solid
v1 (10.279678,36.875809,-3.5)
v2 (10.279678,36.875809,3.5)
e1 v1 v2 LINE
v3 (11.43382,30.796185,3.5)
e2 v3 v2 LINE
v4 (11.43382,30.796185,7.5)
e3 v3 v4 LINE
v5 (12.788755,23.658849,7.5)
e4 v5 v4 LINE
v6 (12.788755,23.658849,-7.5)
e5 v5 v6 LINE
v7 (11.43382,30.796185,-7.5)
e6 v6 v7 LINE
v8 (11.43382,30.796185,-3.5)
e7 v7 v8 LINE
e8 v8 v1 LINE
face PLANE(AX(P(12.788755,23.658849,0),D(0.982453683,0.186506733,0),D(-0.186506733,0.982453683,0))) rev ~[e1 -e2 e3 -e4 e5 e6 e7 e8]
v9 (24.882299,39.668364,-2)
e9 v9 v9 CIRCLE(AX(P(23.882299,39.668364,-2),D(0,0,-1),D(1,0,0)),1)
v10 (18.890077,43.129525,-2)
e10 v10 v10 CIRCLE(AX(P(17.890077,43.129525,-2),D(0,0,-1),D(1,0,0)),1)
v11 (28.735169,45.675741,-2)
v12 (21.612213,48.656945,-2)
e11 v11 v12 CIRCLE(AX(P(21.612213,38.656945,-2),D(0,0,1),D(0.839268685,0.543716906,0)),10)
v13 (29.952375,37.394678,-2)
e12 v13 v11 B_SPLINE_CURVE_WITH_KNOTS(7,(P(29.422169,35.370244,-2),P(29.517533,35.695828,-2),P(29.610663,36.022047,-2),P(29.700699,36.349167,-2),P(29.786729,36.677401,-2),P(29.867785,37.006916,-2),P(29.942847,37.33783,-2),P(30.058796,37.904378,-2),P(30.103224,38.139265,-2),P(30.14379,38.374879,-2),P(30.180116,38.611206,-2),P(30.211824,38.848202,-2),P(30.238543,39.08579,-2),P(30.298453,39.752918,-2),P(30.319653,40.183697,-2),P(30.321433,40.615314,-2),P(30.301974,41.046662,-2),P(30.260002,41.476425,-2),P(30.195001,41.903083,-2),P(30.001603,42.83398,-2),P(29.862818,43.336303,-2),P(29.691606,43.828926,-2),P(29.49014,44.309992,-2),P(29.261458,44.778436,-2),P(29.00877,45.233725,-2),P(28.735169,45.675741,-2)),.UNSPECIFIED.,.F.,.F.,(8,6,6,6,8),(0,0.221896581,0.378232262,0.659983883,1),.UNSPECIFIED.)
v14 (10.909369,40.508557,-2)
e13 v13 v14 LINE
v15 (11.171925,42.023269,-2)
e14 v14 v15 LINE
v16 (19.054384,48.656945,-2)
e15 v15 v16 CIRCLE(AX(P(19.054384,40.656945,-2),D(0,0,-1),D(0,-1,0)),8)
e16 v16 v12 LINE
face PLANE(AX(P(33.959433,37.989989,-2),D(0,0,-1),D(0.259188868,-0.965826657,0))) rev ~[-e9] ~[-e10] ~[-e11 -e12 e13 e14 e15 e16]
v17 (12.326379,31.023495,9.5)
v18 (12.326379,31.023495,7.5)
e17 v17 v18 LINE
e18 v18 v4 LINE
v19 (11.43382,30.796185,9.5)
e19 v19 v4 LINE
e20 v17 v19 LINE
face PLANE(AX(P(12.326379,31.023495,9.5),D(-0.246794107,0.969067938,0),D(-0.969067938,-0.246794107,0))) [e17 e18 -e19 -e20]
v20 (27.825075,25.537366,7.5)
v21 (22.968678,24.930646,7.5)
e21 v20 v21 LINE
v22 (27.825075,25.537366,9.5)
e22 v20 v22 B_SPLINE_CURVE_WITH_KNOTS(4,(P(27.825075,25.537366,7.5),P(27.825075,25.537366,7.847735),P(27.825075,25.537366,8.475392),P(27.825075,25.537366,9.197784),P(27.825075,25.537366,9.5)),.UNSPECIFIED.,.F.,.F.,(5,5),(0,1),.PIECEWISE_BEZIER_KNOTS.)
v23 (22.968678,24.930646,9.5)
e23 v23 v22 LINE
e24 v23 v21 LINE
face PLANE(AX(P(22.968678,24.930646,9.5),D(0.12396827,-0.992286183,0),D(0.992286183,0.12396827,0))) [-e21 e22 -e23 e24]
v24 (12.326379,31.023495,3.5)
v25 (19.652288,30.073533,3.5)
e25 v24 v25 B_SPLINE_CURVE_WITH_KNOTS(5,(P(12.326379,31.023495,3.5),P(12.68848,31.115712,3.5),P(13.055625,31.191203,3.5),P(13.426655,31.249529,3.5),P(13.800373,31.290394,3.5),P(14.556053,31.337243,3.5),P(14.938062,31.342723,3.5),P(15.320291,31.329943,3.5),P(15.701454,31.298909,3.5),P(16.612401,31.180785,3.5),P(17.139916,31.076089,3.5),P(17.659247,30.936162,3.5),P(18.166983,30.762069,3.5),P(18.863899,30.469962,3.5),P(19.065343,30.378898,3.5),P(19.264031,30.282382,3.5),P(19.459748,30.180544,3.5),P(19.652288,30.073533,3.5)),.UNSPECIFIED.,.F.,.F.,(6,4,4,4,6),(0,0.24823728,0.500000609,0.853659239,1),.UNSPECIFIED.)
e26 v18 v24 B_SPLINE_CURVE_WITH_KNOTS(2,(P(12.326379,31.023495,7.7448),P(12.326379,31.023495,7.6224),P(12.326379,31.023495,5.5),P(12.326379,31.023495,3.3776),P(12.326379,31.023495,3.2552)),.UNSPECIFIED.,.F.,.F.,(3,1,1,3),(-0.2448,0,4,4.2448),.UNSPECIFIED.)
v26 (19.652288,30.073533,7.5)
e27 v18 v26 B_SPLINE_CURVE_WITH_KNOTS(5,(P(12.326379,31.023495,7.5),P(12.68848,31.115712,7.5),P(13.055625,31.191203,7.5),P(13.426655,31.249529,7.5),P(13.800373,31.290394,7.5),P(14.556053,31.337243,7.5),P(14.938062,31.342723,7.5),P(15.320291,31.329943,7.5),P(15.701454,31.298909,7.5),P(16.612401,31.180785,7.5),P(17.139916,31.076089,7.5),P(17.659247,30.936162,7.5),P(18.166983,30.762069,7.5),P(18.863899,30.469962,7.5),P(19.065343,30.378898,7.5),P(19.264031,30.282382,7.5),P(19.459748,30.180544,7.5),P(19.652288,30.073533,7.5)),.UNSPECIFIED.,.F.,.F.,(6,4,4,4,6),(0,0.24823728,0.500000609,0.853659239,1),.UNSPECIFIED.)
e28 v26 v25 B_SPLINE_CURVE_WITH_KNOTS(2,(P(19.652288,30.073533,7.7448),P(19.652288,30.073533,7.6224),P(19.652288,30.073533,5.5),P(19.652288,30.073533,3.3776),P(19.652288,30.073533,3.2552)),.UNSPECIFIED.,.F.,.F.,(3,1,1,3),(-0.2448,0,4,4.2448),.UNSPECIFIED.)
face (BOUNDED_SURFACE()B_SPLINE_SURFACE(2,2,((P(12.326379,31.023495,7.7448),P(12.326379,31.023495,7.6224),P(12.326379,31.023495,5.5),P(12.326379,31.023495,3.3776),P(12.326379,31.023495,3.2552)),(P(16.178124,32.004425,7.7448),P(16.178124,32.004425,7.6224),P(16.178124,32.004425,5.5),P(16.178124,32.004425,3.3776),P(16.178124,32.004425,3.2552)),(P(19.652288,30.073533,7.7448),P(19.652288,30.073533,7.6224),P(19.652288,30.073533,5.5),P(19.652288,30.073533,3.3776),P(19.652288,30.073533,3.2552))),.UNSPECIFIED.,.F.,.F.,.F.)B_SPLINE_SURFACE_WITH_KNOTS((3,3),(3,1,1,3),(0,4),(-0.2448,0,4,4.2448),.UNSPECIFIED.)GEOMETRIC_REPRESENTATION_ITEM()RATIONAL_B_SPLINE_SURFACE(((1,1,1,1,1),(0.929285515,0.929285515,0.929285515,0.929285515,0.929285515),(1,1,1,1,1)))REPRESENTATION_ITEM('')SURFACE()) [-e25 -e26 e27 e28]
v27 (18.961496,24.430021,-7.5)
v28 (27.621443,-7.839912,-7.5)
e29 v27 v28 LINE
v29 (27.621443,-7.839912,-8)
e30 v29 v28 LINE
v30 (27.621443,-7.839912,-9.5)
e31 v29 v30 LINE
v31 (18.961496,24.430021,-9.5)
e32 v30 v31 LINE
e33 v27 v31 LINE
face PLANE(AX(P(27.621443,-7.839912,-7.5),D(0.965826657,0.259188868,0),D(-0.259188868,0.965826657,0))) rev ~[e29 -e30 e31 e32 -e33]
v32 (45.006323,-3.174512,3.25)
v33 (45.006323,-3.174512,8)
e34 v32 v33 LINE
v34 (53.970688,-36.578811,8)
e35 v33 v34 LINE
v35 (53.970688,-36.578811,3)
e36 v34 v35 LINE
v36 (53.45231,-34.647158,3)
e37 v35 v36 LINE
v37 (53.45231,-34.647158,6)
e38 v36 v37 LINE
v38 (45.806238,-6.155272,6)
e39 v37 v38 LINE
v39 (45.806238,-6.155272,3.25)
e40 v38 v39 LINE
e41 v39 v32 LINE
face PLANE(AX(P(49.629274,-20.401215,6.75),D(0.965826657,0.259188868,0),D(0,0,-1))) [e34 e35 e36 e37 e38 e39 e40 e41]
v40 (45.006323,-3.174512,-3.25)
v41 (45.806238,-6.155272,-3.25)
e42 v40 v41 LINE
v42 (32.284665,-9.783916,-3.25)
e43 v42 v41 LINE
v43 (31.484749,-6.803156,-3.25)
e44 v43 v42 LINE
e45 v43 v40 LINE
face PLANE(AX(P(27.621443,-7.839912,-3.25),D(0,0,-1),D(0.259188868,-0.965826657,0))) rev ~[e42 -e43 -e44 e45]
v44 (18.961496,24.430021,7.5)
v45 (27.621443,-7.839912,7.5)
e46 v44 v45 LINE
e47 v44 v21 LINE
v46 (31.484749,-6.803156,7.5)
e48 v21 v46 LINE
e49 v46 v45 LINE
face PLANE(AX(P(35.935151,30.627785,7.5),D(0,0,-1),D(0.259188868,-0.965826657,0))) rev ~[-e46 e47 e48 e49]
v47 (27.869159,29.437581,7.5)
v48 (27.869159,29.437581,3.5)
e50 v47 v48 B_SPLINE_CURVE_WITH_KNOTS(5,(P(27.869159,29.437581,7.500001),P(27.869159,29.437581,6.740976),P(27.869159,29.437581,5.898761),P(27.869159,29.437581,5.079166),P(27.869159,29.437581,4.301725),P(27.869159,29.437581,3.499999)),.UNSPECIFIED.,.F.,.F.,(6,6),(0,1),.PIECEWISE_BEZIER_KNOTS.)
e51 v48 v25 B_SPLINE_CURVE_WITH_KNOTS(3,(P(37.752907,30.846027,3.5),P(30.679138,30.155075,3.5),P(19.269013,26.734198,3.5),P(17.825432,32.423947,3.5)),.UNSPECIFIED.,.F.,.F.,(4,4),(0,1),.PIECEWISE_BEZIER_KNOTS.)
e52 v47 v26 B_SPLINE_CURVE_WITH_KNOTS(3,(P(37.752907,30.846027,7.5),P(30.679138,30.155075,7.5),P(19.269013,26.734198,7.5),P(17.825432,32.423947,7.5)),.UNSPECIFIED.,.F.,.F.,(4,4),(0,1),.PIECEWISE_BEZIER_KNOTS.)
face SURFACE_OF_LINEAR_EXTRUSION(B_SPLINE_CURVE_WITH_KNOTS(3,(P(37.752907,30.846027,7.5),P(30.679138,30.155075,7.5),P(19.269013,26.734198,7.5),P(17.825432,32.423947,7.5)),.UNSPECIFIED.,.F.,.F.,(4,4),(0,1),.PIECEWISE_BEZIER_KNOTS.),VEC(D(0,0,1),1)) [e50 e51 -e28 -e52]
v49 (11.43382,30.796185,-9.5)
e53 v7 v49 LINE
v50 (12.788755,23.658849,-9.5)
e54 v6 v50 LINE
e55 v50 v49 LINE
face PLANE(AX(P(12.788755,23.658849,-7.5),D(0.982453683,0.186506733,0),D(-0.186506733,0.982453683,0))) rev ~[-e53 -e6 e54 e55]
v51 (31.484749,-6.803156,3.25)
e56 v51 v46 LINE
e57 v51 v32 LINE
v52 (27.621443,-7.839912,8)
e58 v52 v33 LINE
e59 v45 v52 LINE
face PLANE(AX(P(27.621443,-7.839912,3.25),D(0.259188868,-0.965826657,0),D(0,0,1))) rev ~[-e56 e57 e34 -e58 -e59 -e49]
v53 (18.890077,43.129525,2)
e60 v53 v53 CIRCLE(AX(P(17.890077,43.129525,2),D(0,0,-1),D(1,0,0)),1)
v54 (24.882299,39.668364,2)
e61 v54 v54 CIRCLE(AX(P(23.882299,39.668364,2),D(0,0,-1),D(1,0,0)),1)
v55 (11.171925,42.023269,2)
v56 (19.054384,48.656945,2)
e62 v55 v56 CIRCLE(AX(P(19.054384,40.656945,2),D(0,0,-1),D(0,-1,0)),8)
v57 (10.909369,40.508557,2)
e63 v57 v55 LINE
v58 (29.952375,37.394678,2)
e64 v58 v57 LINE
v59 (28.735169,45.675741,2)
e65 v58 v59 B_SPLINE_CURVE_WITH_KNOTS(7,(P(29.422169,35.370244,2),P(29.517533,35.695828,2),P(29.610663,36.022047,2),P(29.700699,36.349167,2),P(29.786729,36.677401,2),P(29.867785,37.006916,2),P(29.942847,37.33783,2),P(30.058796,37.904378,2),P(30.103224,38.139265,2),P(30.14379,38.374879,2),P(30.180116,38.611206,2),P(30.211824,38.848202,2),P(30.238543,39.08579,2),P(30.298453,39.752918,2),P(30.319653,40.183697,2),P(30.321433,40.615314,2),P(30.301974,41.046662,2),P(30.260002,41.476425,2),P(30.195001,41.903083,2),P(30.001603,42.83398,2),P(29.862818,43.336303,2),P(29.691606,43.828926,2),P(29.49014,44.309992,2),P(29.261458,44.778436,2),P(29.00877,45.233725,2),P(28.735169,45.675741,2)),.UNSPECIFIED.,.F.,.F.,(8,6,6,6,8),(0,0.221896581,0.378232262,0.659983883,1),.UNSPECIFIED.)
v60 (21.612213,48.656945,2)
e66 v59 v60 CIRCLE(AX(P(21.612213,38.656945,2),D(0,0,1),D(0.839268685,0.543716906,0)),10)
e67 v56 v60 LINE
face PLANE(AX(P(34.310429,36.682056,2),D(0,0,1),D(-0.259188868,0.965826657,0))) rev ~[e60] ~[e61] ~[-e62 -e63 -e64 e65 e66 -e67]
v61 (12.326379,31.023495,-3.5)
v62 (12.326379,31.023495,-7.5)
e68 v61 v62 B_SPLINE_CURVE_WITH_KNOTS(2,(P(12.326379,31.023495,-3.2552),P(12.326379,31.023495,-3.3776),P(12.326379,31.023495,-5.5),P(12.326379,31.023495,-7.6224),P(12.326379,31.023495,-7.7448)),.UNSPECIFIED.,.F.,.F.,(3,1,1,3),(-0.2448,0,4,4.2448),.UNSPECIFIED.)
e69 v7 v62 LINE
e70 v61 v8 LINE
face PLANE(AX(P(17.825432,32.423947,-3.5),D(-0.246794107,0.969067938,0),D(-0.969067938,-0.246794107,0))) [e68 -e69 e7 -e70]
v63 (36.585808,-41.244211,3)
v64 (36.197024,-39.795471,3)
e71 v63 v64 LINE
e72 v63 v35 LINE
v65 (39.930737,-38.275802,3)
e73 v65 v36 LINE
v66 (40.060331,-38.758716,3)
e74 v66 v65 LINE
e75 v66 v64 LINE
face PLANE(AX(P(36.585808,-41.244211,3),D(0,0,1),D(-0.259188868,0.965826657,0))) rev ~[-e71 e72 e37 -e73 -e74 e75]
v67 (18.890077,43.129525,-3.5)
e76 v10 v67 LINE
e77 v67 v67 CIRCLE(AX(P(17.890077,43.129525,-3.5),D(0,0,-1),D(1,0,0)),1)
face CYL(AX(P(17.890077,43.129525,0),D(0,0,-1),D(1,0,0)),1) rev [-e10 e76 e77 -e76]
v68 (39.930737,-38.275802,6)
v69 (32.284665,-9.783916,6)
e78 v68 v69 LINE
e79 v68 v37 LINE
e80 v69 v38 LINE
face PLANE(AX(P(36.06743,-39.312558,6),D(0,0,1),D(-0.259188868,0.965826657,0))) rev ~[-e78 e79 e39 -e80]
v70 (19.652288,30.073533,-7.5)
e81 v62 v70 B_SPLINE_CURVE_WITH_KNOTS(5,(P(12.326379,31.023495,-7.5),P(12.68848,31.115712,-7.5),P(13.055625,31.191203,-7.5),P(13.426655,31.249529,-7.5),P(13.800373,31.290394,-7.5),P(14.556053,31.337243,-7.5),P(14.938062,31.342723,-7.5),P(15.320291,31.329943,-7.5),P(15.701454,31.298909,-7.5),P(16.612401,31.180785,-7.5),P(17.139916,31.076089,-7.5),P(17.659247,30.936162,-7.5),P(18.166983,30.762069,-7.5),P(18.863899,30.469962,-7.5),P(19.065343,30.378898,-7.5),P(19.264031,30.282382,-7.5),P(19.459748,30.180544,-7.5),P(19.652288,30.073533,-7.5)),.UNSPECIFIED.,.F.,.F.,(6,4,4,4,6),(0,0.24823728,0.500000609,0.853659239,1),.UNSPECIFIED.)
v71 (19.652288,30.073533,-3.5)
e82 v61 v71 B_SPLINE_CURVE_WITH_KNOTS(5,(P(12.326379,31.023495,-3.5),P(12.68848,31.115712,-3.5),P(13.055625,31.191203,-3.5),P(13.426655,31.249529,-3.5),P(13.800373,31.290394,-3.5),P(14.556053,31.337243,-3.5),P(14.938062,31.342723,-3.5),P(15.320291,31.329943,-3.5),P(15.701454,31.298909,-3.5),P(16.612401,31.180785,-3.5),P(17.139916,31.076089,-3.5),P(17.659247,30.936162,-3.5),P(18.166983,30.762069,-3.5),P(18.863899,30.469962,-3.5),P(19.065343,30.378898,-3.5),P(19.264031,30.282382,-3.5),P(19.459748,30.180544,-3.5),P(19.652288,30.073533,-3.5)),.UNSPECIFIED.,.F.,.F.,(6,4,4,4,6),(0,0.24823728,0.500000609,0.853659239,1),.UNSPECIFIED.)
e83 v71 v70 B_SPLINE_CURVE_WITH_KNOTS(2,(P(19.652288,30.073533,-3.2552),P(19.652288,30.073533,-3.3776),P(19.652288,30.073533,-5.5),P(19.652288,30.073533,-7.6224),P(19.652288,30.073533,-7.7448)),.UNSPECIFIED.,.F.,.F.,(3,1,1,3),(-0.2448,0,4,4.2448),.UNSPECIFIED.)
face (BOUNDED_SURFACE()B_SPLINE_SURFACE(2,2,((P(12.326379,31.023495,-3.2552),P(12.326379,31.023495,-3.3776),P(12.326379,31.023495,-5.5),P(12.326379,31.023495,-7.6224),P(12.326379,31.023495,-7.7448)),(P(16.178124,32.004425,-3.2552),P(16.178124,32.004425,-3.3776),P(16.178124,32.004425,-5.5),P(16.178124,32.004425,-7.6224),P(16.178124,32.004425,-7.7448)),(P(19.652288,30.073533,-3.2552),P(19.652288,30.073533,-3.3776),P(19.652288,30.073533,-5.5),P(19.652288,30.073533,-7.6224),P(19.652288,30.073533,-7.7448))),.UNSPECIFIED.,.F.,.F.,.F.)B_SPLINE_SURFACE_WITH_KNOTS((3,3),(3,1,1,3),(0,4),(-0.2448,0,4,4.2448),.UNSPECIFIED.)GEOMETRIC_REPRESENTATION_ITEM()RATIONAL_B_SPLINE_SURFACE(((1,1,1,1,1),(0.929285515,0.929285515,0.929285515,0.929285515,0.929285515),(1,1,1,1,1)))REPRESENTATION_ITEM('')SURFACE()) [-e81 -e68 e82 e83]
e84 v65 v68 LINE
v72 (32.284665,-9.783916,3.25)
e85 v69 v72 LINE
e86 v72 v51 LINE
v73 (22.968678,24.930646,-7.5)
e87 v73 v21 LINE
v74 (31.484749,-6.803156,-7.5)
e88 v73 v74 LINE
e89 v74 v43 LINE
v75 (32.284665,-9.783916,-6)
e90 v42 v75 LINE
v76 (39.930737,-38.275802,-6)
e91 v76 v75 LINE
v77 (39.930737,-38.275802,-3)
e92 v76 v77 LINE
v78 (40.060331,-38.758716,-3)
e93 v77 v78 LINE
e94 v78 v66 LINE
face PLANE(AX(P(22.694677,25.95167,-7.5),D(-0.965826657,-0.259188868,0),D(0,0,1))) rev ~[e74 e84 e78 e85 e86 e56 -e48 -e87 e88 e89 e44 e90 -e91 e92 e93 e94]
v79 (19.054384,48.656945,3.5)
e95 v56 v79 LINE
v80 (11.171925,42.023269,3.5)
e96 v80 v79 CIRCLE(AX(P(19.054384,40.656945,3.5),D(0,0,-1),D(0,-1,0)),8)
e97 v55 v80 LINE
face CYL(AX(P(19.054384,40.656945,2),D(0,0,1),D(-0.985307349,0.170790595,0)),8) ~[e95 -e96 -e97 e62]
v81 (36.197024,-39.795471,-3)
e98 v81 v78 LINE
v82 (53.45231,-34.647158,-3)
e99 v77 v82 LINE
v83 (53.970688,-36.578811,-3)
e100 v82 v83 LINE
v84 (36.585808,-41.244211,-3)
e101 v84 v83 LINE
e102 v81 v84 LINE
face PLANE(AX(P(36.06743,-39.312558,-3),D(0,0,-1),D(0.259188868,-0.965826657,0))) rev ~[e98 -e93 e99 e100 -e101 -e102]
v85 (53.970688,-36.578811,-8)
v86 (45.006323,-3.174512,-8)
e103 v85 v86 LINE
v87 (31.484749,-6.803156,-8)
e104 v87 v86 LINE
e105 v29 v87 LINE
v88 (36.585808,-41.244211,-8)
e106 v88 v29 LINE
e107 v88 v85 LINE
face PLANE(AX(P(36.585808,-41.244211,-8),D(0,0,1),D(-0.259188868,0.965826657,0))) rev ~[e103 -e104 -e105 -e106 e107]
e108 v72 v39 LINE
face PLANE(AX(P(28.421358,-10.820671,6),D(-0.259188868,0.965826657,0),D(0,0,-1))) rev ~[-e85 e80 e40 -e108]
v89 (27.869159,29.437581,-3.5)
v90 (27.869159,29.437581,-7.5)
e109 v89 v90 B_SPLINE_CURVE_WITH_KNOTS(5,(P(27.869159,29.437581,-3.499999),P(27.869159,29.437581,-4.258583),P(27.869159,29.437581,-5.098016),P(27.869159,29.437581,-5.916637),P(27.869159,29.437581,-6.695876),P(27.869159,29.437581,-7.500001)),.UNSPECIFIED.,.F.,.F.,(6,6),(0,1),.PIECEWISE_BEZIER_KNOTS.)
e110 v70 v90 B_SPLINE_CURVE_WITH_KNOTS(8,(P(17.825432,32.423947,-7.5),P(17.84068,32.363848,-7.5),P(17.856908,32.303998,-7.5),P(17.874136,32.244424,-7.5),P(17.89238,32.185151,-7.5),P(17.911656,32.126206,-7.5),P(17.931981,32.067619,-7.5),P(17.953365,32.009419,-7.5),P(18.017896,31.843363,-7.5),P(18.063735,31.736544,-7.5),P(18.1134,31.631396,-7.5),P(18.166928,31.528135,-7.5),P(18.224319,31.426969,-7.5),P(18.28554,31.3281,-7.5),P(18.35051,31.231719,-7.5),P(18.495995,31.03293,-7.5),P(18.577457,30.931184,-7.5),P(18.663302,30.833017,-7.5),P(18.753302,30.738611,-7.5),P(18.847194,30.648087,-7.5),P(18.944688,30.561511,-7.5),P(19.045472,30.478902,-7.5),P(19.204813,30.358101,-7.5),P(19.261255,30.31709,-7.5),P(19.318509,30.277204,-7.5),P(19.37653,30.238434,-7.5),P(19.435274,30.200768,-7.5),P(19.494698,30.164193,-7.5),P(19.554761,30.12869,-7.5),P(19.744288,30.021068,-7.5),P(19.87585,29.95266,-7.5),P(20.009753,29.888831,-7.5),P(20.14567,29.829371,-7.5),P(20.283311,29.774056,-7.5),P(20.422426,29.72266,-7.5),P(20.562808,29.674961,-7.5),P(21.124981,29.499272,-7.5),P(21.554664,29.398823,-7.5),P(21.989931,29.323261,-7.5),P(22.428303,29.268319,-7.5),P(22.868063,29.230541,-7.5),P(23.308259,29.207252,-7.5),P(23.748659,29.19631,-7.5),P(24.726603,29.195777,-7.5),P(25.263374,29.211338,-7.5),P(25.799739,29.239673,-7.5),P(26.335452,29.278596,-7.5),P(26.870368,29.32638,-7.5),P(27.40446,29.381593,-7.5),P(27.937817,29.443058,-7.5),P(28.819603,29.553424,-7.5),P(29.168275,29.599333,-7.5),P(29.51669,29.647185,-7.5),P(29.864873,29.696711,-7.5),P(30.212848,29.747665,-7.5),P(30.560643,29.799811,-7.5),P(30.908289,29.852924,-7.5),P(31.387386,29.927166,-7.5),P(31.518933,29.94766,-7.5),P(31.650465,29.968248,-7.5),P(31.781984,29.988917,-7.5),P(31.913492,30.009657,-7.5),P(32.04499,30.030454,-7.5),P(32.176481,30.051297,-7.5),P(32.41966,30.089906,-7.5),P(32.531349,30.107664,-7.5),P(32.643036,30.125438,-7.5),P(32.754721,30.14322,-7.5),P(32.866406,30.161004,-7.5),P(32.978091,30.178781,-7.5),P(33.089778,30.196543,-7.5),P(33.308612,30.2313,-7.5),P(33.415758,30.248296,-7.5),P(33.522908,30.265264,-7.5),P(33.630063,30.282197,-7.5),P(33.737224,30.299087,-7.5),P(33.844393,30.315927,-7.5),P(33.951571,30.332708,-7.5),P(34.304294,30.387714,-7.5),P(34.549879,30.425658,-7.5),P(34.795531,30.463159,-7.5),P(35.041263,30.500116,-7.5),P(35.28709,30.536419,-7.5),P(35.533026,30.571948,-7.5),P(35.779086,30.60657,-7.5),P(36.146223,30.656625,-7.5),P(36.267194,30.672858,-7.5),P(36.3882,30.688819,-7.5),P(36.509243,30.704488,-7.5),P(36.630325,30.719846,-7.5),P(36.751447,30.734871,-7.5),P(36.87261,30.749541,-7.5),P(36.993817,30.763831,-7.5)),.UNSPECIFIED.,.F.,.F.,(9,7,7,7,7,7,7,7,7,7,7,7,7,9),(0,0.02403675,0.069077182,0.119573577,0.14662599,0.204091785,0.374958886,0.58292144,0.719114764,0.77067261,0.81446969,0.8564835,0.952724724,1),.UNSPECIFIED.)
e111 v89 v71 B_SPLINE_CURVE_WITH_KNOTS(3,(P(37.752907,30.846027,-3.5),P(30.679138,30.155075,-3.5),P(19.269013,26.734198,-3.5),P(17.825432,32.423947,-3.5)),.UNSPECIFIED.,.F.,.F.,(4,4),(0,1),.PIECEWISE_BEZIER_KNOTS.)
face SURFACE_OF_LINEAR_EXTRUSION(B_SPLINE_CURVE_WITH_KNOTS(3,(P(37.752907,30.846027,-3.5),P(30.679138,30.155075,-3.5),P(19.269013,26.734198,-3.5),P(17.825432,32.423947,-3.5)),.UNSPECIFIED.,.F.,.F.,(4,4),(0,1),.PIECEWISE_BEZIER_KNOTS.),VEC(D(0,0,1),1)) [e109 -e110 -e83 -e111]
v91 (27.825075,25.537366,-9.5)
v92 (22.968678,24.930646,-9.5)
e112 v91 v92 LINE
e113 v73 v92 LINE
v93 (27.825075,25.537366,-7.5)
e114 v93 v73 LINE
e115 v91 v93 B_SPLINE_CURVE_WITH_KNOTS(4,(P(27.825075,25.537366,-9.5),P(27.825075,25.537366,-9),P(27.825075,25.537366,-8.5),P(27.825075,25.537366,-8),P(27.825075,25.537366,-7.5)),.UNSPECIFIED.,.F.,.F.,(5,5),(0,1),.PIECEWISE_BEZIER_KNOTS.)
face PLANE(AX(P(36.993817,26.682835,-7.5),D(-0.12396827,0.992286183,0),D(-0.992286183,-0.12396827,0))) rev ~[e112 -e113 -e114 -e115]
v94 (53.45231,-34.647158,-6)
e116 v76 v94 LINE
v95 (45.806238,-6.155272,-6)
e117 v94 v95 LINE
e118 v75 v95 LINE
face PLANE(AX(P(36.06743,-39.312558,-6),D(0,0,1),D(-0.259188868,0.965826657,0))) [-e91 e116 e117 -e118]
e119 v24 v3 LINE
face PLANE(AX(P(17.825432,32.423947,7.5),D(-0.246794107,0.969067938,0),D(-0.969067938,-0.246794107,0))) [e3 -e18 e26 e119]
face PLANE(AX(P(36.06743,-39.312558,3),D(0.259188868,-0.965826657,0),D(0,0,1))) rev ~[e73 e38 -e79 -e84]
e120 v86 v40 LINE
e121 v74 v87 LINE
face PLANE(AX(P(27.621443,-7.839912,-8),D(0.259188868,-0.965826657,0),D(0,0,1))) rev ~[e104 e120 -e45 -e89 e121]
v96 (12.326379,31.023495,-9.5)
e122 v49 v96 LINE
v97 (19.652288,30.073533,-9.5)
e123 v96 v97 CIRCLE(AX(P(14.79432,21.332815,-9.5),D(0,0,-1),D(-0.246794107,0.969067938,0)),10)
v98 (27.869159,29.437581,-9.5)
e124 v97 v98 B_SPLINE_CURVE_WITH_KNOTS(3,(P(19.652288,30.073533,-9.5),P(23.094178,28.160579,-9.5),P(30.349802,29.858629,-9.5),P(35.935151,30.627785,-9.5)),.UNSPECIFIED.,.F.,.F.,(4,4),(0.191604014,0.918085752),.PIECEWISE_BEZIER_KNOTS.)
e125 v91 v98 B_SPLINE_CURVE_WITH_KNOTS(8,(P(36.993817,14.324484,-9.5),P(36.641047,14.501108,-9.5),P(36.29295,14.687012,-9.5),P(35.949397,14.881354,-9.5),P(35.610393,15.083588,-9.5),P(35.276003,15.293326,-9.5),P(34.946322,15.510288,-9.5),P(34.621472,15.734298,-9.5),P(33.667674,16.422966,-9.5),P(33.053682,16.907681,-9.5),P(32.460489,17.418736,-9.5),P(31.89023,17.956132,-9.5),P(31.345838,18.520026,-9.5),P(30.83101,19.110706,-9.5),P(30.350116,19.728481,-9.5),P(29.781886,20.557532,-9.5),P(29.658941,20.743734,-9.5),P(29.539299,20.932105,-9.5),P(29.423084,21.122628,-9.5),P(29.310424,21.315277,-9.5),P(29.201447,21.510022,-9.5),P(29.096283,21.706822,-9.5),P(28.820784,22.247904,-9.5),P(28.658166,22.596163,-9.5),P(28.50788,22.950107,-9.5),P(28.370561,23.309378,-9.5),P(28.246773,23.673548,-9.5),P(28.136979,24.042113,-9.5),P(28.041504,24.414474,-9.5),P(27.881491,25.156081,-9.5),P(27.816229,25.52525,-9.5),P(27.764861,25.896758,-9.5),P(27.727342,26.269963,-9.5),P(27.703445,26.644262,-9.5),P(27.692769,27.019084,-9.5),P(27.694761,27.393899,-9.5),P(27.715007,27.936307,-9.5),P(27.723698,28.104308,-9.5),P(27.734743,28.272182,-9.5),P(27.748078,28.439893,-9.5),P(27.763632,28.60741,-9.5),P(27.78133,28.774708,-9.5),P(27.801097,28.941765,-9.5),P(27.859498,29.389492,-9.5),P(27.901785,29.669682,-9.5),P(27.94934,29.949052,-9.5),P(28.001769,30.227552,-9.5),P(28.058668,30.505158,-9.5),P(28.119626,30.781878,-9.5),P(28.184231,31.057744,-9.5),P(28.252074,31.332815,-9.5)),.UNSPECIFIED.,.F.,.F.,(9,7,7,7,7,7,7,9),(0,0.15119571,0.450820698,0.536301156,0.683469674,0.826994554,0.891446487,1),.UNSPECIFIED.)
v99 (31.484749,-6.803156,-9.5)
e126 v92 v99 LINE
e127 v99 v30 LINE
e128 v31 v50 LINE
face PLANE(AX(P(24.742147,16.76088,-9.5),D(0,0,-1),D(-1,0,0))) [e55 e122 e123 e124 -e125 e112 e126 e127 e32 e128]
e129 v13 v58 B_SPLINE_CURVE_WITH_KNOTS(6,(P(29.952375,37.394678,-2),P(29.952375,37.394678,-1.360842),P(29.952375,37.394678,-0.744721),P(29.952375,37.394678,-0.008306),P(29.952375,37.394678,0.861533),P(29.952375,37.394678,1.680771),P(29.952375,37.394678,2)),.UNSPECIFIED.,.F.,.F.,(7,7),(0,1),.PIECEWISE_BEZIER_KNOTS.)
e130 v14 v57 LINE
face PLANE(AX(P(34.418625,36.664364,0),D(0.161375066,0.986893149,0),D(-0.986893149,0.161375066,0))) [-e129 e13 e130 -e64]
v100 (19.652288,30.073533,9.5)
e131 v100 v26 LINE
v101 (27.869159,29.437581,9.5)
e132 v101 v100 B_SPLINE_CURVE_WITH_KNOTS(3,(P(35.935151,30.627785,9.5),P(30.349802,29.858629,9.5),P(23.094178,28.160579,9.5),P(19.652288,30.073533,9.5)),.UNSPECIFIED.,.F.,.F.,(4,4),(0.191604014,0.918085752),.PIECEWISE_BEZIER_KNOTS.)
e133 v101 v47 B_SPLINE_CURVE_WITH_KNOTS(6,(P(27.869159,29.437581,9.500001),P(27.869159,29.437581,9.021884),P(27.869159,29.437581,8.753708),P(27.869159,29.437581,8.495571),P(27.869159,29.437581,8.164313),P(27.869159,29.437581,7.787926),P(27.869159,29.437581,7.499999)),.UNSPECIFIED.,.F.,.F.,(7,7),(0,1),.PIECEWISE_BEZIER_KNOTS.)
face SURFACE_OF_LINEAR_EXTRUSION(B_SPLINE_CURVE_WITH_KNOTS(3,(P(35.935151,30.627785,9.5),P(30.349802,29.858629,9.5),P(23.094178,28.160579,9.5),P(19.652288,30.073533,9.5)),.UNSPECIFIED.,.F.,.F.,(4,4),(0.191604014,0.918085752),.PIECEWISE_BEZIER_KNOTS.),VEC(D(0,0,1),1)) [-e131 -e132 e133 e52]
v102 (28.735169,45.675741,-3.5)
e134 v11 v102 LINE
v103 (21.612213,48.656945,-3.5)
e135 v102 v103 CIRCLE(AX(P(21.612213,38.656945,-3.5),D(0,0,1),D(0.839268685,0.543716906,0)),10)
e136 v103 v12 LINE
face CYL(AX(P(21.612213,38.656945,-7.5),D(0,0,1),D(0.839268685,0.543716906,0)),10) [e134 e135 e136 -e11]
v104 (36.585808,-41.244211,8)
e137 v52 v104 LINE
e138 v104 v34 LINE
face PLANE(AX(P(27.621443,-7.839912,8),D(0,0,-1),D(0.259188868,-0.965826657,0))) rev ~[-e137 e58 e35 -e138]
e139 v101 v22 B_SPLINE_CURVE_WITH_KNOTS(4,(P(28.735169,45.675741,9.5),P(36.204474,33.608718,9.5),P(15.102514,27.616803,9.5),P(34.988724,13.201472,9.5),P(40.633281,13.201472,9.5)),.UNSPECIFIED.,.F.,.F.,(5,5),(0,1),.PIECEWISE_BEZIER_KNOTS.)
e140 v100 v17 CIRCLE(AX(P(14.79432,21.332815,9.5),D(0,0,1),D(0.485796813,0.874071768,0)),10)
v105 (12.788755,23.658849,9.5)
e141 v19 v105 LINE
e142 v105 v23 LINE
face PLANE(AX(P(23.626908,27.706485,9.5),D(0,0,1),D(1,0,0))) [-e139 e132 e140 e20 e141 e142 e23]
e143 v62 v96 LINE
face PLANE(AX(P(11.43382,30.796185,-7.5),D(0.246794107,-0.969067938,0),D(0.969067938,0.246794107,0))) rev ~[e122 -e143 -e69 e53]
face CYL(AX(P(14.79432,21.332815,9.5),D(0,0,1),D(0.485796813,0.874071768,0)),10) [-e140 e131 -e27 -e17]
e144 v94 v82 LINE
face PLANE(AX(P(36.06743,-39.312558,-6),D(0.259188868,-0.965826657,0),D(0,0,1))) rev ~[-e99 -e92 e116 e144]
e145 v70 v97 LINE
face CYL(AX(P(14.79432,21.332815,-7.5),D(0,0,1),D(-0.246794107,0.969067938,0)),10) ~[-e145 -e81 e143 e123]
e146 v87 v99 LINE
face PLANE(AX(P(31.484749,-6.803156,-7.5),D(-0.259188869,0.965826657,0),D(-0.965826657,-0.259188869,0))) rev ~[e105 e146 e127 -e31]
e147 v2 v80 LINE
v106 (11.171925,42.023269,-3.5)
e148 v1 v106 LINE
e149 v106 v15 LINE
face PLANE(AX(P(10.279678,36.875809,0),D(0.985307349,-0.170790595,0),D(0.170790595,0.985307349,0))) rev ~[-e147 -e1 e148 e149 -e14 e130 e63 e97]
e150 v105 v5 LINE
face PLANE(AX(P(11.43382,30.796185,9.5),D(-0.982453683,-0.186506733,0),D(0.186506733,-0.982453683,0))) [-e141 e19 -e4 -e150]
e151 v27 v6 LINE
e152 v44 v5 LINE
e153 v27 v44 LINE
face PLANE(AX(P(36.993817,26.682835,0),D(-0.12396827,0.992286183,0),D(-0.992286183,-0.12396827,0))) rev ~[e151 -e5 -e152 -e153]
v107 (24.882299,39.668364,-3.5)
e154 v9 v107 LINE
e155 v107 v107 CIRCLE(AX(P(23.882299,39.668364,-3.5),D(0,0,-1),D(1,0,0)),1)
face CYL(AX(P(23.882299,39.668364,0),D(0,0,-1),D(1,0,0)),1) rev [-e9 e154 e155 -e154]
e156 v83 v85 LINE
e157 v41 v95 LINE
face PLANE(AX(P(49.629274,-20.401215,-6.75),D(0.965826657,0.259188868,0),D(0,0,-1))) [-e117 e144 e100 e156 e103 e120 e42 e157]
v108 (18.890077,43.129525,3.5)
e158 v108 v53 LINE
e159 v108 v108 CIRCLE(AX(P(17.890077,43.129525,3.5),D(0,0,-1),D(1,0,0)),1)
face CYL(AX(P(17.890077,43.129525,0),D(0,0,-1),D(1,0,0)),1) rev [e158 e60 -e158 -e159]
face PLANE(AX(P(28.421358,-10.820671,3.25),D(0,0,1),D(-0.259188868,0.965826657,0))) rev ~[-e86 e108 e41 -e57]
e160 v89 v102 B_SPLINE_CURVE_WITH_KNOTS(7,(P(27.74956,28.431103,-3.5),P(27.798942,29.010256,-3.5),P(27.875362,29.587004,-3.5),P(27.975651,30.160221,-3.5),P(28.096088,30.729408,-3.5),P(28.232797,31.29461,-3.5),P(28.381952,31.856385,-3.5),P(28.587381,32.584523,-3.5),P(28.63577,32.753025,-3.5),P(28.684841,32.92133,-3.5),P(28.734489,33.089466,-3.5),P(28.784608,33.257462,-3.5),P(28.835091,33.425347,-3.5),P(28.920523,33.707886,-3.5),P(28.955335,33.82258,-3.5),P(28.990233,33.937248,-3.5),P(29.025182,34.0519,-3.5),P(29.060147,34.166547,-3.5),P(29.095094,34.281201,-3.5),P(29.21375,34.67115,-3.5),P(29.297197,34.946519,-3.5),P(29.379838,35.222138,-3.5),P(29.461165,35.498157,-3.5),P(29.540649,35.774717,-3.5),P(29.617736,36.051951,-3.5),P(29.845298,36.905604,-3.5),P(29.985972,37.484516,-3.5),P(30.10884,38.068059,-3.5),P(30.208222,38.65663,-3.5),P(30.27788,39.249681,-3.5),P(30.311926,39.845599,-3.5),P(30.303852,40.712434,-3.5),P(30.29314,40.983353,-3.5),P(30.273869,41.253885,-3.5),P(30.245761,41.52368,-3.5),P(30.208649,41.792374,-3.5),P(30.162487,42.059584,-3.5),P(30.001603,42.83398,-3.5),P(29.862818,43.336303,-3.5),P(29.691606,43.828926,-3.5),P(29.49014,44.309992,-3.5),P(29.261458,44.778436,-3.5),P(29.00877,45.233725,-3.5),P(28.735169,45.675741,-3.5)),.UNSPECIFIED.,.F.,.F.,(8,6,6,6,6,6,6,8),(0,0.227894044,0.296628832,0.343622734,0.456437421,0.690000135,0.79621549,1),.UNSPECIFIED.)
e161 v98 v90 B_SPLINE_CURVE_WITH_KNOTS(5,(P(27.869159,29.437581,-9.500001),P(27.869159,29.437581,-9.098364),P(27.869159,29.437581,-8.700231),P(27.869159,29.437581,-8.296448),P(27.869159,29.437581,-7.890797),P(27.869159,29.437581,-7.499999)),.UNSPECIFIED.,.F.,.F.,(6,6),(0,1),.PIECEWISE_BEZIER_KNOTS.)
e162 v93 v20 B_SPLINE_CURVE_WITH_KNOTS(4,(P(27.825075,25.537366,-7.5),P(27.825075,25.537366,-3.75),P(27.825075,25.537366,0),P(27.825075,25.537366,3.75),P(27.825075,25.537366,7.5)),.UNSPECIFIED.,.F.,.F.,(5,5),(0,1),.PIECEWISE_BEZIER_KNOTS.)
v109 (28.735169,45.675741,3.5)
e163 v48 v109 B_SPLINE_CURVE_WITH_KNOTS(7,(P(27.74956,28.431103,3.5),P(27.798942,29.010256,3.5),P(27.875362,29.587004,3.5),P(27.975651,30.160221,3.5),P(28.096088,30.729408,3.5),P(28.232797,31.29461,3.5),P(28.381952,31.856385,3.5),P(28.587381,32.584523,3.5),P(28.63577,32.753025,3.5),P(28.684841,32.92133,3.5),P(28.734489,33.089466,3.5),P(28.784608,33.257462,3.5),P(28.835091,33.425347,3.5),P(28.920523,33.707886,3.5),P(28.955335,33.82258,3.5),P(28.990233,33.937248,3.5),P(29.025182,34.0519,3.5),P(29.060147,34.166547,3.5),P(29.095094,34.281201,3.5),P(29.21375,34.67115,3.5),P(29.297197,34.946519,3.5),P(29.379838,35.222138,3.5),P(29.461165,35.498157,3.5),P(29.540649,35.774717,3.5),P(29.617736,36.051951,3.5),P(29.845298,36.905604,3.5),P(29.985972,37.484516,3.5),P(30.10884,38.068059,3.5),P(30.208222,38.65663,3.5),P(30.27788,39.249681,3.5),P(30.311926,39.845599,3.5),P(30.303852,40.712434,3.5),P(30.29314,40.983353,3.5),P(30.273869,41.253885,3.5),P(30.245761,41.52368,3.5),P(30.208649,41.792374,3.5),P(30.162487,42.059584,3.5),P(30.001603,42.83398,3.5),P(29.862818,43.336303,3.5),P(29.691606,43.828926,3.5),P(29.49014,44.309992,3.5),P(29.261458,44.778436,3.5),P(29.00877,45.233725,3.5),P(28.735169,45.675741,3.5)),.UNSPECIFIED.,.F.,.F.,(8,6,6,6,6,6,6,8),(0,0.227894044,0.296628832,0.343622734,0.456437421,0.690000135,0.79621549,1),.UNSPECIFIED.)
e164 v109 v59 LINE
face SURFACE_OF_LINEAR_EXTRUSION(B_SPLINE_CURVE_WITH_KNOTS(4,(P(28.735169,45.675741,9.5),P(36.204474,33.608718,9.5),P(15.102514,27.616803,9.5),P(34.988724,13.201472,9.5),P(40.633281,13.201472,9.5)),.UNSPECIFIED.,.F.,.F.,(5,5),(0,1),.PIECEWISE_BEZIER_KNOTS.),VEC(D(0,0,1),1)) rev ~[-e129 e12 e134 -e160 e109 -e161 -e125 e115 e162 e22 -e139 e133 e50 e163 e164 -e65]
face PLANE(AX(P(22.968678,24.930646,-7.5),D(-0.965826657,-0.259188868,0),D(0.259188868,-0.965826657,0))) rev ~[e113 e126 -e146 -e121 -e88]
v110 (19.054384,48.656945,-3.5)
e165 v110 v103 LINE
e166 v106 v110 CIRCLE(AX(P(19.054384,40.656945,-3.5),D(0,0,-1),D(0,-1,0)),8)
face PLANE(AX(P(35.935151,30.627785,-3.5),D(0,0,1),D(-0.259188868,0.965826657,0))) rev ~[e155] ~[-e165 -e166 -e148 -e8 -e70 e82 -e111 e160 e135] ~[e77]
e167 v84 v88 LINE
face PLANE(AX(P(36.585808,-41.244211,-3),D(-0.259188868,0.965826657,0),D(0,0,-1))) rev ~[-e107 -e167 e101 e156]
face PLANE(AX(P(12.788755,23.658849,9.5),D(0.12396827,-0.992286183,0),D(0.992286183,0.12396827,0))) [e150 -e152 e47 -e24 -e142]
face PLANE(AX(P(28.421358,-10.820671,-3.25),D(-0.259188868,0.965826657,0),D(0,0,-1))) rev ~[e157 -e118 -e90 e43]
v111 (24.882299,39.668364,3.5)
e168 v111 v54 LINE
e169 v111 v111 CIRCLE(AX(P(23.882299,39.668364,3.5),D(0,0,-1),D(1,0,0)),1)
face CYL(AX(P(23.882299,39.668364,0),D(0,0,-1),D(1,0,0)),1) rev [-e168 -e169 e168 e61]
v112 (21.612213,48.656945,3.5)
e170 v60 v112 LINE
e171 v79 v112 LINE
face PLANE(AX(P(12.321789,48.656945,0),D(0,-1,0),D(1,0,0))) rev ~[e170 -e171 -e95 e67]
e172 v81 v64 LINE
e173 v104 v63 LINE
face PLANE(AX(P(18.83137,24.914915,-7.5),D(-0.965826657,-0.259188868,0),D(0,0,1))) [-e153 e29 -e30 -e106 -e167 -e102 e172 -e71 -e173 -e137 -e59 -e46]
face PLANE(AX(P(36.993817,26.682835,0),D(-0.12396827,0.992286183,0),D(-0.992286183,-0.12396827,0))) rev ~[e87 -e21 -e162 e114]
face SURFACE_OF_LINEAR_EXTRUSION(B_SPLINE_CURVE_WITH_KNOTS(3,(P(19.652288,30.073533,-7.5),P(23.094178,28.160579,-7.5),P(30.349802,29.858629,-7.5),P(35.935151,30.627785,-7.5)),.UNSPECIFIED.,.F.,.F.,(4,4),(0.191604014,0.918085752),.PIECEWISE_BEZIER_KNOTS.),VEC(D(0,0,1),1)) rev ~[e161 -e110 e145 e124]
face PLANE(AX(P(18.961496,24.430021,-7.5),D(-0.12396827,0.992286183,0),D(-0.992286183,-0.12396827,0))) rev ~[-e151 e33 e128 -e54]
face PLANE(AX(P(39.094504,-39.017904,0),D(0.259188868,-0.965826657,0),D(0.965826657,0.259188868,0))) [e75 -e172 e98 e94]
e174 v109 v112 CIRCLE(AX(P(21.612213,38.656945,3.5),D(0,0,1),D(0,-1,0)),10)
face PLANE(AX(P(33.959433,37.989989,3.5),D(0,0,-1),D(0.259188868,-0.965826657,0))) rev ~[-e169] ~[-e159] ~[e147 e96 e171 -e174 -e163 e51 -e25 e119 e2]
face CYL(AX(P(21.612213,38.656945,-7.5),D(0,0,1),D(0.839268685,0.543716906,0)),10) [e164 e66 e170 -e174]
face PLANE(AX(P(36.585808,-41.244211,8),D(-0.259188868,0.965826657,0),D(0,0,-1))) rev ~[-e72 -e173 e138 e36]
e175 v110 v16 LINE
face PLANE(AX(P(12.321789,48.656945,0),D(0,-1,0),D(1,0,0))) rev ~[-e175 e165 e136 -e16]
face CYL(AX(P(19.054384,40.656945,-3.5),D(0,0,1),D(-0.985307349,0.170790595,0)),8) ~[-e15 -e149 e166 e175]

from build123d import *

# Parameters (mm, degrees)
SKETCH10_R                = 1
BOSS_EXTRUDE5_DEPTH       = 7.5
CUT_EXTRUDE1_DEPTH        = 4
FILLET1_R                 = 10
CUT_EXTRUDE6_START        = -11
CUT_EXTRUDE6_DEPTH        = 10
CUT_EXTRUDE7_DEPTH        = 2
BOSS_EXTRUDE11_DEPTH      = 9
BOSS_EXTRUDE13_DEPTH      = 64
BOSS_EXTRUDE13_DEPTH_BACK = 3
SKETCH30_W                = 2
SKETCH30_H                = 15
BOSS_EXTRUDE14_DEPTH      = 14
BOSS_EXTRUDE14_DEPTH_BACK = 4
SKETCH31_W                = 1.5
SKETCH31_H                = 29.5
SKETCH31_W_2              = 0.5
SKETCH31_H_2              = 3.0862264
CUT_EXTRUDE9_DEPTH        = 9
FILLET2_R                 = 8
FILLET3_R                 = 10
BOSS_EXTRUDE15_DEPTH      = 2
BOSS_EXTRUDE16_START      = 2
BOSS_EXTRUDE16_DEPTH      = 2
CUT_EXTRUDE10_DEPTH       = 28


with BuildPart() as part:
    # Sketch10 → Boss-Extrude5 (new, symmetric)
    with BuildSketch(Plane.XY):
        Polygon((27.048887868, 48.656944563), (33.959433176, 37.989988632), (36.993816658, 26.682834617), (12.788755024, 23.658848526), (10.279677841, 36.875809012), (12.321789019, 48.656944563), align=None)
        with Locations((17.890076876, 43.12952492)):
            Circle(SKETCH10_R, mode=Mode.SUBTRACT)
        with Locations((23.882298789, 39.668364252)):
            Circle(SKETCH10_R, mode=Mode.SUBTRACT)
    extrude(amount=BOSS_EXTRUDE5_DEPTH, both=True)

    # Sketch11 → Cut-Extrude1 (cut)
    with BuildSketch(Plane.XY.offset(7.5)):
        with BuildLine():
            Line((17.825431655, 32.423947427), (9.123881611, 30.207909529))
            Line((9.123881611, 30.207909529), (6.594316119, 53.15991455))
            Line((6.594316119, 53.15991455), (34.693470887, 60.271659822))
            Line((34.693470887, 60.271659822), (37.752907488, 30.846026516))
            add(Edge.make_bspline(
                [(37.752907488, 30.846026516), (30.679137573, 30.15507536), (19.269012528, 26.734198276), (17.825431655, 32.423947427)],
                knots=[0, 0, 0, 0, 1, 1, 1, 1], degree=3))
        make_face()
    extrude(amount=-CUT_EXTRUDE1_DEPTH, mode=Mode.SUBTRACT)

    # Fillet1
    fillet1_edges = [part.edges().sort_by_distance(p)[0] for p in [
        (27.048887868, 48.656944563, -2),
    ]]
    fillet(fillet1_edges, radius=FILLET1_R)

    # Sketch11<2> → Cut-Extrude6 (cut)
    with BuildSketch(Plane.XY.offset(7.5).offset(CUT_EXTRUDE6_START)):
        with BuildLine():
            Line((17.825431655, 32.423947427), (9.123881611, 30.207909529))
            Line((9.123881611, 30.207909529), (6.594316119, 53.15991455))
            Line((6.594316119, 53.15991455), (34.693470887, 60.271659822))
            Line((34.693470887, 60.271659822), (37.752907488, 30.846026516))
            add(Edge.make_bspline(
                [(37.752907488, 30.846026516), (30.679137573, 30.15507536), (19.269012528, 26.734198276), (17.825431655, 32.423947427)],
                knots=[0, 0, 0, 0, 1, 1, 1, 1], degree=3))
        make_face()
    extrude(amount=-CUT_EXTRUDE6_DEPTH, mode=Mode.SUBTRACT)

    # Sketch16 → Cut-Extrude7 (cut, symmetric)
    with BuildSketch(Plane.XY):
        Polygon((10.074284509, 54.36084815), (34.418624568, 54.36084815), (34.418624568, 36.664364271), (10.074284509, 40.645108775), align=None)
    extrude(amount=CUT_EXTRUDE7_DEPTH, both=True, mode=Mode.SUBTRACT)

    # Sketch26 → Boss-Extrude11 (add)
    with BuildSketch(Plane(origin=(41.188168375, 11.053240949, 0), x_dir=(0, 0, -1), z_dir=(0.9658266565657433, 0.2591888683316433, 0))):
        Polygon((2, 27.88983665), (2, 26.535626274), (-2, 26.535626274), (-2, 27.88983665), (-3.5, 27.88983665), (-3.5, 20.267140373), (-7.5, 20.267140373), (-7.5, 16.182607471), (7.5, 16.182607471), (7.5, 20.267140372), (3.5, 20.267140373), (3.5, 27.88983665), align=None)
    extrude(amount=BOSS_EXTRUDE11_DEPTH)

    # Sketch30 → Boss-Extrude13 (add, two sides: drawn at the far end of the back side and taken through both)
    with BuildSketch(Plane(origin=(-4.194351717, 15.629593668, 0), x_dir=(0.9658266565657433, 0.25918886833164334, 0), z_dir=(0.25918886833164334, -0.9658266565657433, 0)).offset(-BOSS_EXTRUDE13_DEPTH_BACK)):
        with Locations((27.645507965, 0)):
            Rectangle(SKETCH30_W, SKETCH30_H)
        with Locations((25.645507965, 0)):
            Rectangle(SKETCH30_W, SKETCH30_H)
    extrude(amount=BOSS_EXTRUDE13_DEPTH + BOSS_EXTRUDE13_DEPTH_BACK)

    # Sketch31 → Boss-Extrude14 (add, two sides: drawn at the far end of the back side and taken through both)
    with BuildSketch(Plane(origin=(27.666595183, 7.424596792, 0), x_dir=(0, 0, -1), z_dir=(0.9658266565657432, 0.2591888683316434, 0)).offset(-BOSS_EXTRUDE14_DEPTH_BACK)):
        with Locations((-6.75, -32.567392529)):
            Rectangle(SKETCH31_W, SKETCH31_H)
        with Locations((-7.75, -32.567392529)):
            Rectangle(SKETCH31_W_2, SKETCH31_H)
        with Locations((6.75, -32.567392529)):
            Rectangle(SKETCH31_W, SKETCH31_H)
        with Locations((7.75, -32.567392529)):
            Rectangle(SKETCH31_W_2, SKETCH31_H)
        Polygon((-3, -47.317392529), (-6, -47.317392529), (-7.5, -47.317392529), (-7.5, -47.817392529), (-3, -47.817392529), align=None)
        Polygon((7.5, -47.817392529), (3, -47.817392529), (3, -49.317392529), (8, -49.317392529), (8, -47.317392529), (7.5, -47.317392529), align=None)
        Polygon((3, -47.317392529), (3, -47.817392529), (7.5, -47.817392529), (7.5, -47.317392529), (6, -47.317392529), align=None)
        Polygon((-7.5, -47.817392529), (-7.5, -47.317392529), (-8, -47.317392529), (-8, -49.317392529), (-3, -49.317392529), (-3, -47.817392529), align=None)
        Polygon((-7.5, -17.817392529), (-6, -17.817392529), (-3.25, -17.817392529), (-3.25, -14.731166129), (-7.5, -14.731166129), align=None)
        Polygon((3.25, -17.817392529), (6, -17.817392529), (7.5, -17.817392529), (7.5, -14.731166129), (3.25, -14.731166129), align=None)
        with Locations((7.75, -16.274279329)):
            Rectangle(SKETCH31_W_2, SKETCH31_H_2)
        with Locations((-7.75, -16.274279329)):
            Rectangle(SKETCH31_W_2, SKETCH31_H_2)
    extrude(amount=BOSS_EXTRUDE14_DEPTH + BOSS_EXTRUDE14_DEPTH_BACK)

    # Sketch32 → Cut-Extrude9 (cut)
    with BuildSketch(Plane(origin=(49.880608284, 13.385940764, 0), x_dir=(0, 0, -1), z_dir=(0.9658266565657431, 0.25918886833164445, 0))):
        Polygon((3.5, 27.88983665), (2, 27.88983665), (2, 26.535626274), (-2, 26.535626274), (-2, 27.88983665), (-3.5, 27.88983665), (-3.5, 20.267140373), (-7.5, 20.267140373), (-7.5, 16.182607471), (7.5, 16.182607471), (7.5, 20.267140372), (3.5, 20.267140373), align=None)
    extrude(amount=-CUT_EXTRUDE9_DEPTH, mode=Mode.SUBTRACT)

    # Fillet2
    fillet2_edges = [part.edges().sort_by_distance(p)[0] for p in [
        (12.321789019, 48.656944563, 2.75),
        (12.321789019, 48.656944563, -2.75),
    ]]
    fillet(fillet2_edges, radius=FILLET2_R)

    # Fillet3
    fillet3_edges = [part.edges().sort_by_distance(p)[0] for p in [
        (17.825431655, 32.423947427, 5.5),
        (17.825431655, 32.423947427, -5.5),
    ]]
    fillet(fillet3_edges, radius=FILLET3_R)

    # Sketch33 → Boss-Extrude15 (add)
    with BuildSketch(Plane(origin=(0, 0, -7.5), x_dir=(-1, 0, 0), z_dir=(0, 0, -1))):
        with BuildLine():
            Line((-11.433819556, 30.796185182), (-12.326379112, 31.023494775))
            ThreePointArc((-12.326379112, 31.023494775), (-16.080268918, 31.249787506), (-19.652288318, 30.073533078))
            add(Edge.make_bspline(
                [(-19.652288318, 30.073533078), (-23.094178016, 28.160579122), (-30.349802092, 29.858629099), (-35.935151197, 30.627785373)],
                knots=[0.191604014, 0.191604014, 0.191604014, 0.191604014, 0.918085752, 0.918085752, 0.918085752, 0.918085752], degree=3))
            Line((-35.935151197, 30.627785373), (-36.993816658, 26.682834617))
            Line((-36.993816658, 26.682834617), (-22.968678464, 24.93064644))
            Line((-22.968678464, 24.93064644), (-31.484749461, -6.803156137))
            Line((-31.484749461, -6.803156137), (-27.621442835, -7.839911611))
            Line((-27.621442835, -7.839911611), (-18.961496124, 24.430021246))
            Line((-18.961496124, 24.430021246), (-12.788755024, 23.658848526))
            Line((-12.788755024, 23.658848526), (-11.433819556, 30.796185182))
        make_face()
    extrude(amount=BOSS_EXTRUDE15_DEPTH)

    # Sketch34 → Boss-Extrude16 (add)
    with BuildSketch(Plane.XY.offset(7.5).offset(BOSS_EXTRUDE16_START)):
        with BuildLine():
            Line((12.326379112, 31.023494775), (11.433819556, 30.796185182))
            Line((11.433819556, 30.796185182), (12.788755024, 23.658848526))
            Line((12.788755024, 23.658848526), (22.968678464, 24.93064644))
            Line((22.968678464, 24.93064644), (36.993816658, 26.682834617))
            Line((36.993816658, 26.682834617), (35.935151197, 30.627785373))
            add(Edge.make_bspline(
                [(35.935151197, 30.627785373), (30.349802091, 29.858629099), (23.094178016, 28.160579122), (19.652288318, 30.073533078)],
                knots=[0.191604014, 0.191604014, 0.191604014, 0.191604014, 0.918085752, 0.918085752, 0.918085752, 0.918085752], degree=3))
            ThreePointArc((19.652288318, 30.073533078), (16.080268918, 31.249787506), (12.326379112, 31.023494775))
        make_face()
    extrude(amount=-BOSS_EXTRUDE16_DEPTH)

    # Sketch36 → Cut-Extrude10 (cut)
    with BuildSketch(Plane.XY.offset(9.5)):
        with BuildLine():
            Line((28.735168536, 45.675741107), (43.151621949, 50.021353904))
            Line((43.151621949, 50.021353904), (48.709339966, 19.453904806))
            Line((48.709339966, 19.453904806), (40.633280972, 13.201472036))
            add(Edge.make_bspline(
                [(28.735168536, 45.675741107), (36.204474426, 33.608717883), (15.102513827, 27.616803145), (34.98872361, 13.201472036), (40.633280972, 13.201472036)],
                knots=[0, 0, 0, 0, 0, 1, 1, 1, 1, 1], degree=4))
        make_face()
    extrude(amount=-CUT_EXTRUDE10_DEPTH, mode=Mode.SUBTRACT)


solid = part.part
